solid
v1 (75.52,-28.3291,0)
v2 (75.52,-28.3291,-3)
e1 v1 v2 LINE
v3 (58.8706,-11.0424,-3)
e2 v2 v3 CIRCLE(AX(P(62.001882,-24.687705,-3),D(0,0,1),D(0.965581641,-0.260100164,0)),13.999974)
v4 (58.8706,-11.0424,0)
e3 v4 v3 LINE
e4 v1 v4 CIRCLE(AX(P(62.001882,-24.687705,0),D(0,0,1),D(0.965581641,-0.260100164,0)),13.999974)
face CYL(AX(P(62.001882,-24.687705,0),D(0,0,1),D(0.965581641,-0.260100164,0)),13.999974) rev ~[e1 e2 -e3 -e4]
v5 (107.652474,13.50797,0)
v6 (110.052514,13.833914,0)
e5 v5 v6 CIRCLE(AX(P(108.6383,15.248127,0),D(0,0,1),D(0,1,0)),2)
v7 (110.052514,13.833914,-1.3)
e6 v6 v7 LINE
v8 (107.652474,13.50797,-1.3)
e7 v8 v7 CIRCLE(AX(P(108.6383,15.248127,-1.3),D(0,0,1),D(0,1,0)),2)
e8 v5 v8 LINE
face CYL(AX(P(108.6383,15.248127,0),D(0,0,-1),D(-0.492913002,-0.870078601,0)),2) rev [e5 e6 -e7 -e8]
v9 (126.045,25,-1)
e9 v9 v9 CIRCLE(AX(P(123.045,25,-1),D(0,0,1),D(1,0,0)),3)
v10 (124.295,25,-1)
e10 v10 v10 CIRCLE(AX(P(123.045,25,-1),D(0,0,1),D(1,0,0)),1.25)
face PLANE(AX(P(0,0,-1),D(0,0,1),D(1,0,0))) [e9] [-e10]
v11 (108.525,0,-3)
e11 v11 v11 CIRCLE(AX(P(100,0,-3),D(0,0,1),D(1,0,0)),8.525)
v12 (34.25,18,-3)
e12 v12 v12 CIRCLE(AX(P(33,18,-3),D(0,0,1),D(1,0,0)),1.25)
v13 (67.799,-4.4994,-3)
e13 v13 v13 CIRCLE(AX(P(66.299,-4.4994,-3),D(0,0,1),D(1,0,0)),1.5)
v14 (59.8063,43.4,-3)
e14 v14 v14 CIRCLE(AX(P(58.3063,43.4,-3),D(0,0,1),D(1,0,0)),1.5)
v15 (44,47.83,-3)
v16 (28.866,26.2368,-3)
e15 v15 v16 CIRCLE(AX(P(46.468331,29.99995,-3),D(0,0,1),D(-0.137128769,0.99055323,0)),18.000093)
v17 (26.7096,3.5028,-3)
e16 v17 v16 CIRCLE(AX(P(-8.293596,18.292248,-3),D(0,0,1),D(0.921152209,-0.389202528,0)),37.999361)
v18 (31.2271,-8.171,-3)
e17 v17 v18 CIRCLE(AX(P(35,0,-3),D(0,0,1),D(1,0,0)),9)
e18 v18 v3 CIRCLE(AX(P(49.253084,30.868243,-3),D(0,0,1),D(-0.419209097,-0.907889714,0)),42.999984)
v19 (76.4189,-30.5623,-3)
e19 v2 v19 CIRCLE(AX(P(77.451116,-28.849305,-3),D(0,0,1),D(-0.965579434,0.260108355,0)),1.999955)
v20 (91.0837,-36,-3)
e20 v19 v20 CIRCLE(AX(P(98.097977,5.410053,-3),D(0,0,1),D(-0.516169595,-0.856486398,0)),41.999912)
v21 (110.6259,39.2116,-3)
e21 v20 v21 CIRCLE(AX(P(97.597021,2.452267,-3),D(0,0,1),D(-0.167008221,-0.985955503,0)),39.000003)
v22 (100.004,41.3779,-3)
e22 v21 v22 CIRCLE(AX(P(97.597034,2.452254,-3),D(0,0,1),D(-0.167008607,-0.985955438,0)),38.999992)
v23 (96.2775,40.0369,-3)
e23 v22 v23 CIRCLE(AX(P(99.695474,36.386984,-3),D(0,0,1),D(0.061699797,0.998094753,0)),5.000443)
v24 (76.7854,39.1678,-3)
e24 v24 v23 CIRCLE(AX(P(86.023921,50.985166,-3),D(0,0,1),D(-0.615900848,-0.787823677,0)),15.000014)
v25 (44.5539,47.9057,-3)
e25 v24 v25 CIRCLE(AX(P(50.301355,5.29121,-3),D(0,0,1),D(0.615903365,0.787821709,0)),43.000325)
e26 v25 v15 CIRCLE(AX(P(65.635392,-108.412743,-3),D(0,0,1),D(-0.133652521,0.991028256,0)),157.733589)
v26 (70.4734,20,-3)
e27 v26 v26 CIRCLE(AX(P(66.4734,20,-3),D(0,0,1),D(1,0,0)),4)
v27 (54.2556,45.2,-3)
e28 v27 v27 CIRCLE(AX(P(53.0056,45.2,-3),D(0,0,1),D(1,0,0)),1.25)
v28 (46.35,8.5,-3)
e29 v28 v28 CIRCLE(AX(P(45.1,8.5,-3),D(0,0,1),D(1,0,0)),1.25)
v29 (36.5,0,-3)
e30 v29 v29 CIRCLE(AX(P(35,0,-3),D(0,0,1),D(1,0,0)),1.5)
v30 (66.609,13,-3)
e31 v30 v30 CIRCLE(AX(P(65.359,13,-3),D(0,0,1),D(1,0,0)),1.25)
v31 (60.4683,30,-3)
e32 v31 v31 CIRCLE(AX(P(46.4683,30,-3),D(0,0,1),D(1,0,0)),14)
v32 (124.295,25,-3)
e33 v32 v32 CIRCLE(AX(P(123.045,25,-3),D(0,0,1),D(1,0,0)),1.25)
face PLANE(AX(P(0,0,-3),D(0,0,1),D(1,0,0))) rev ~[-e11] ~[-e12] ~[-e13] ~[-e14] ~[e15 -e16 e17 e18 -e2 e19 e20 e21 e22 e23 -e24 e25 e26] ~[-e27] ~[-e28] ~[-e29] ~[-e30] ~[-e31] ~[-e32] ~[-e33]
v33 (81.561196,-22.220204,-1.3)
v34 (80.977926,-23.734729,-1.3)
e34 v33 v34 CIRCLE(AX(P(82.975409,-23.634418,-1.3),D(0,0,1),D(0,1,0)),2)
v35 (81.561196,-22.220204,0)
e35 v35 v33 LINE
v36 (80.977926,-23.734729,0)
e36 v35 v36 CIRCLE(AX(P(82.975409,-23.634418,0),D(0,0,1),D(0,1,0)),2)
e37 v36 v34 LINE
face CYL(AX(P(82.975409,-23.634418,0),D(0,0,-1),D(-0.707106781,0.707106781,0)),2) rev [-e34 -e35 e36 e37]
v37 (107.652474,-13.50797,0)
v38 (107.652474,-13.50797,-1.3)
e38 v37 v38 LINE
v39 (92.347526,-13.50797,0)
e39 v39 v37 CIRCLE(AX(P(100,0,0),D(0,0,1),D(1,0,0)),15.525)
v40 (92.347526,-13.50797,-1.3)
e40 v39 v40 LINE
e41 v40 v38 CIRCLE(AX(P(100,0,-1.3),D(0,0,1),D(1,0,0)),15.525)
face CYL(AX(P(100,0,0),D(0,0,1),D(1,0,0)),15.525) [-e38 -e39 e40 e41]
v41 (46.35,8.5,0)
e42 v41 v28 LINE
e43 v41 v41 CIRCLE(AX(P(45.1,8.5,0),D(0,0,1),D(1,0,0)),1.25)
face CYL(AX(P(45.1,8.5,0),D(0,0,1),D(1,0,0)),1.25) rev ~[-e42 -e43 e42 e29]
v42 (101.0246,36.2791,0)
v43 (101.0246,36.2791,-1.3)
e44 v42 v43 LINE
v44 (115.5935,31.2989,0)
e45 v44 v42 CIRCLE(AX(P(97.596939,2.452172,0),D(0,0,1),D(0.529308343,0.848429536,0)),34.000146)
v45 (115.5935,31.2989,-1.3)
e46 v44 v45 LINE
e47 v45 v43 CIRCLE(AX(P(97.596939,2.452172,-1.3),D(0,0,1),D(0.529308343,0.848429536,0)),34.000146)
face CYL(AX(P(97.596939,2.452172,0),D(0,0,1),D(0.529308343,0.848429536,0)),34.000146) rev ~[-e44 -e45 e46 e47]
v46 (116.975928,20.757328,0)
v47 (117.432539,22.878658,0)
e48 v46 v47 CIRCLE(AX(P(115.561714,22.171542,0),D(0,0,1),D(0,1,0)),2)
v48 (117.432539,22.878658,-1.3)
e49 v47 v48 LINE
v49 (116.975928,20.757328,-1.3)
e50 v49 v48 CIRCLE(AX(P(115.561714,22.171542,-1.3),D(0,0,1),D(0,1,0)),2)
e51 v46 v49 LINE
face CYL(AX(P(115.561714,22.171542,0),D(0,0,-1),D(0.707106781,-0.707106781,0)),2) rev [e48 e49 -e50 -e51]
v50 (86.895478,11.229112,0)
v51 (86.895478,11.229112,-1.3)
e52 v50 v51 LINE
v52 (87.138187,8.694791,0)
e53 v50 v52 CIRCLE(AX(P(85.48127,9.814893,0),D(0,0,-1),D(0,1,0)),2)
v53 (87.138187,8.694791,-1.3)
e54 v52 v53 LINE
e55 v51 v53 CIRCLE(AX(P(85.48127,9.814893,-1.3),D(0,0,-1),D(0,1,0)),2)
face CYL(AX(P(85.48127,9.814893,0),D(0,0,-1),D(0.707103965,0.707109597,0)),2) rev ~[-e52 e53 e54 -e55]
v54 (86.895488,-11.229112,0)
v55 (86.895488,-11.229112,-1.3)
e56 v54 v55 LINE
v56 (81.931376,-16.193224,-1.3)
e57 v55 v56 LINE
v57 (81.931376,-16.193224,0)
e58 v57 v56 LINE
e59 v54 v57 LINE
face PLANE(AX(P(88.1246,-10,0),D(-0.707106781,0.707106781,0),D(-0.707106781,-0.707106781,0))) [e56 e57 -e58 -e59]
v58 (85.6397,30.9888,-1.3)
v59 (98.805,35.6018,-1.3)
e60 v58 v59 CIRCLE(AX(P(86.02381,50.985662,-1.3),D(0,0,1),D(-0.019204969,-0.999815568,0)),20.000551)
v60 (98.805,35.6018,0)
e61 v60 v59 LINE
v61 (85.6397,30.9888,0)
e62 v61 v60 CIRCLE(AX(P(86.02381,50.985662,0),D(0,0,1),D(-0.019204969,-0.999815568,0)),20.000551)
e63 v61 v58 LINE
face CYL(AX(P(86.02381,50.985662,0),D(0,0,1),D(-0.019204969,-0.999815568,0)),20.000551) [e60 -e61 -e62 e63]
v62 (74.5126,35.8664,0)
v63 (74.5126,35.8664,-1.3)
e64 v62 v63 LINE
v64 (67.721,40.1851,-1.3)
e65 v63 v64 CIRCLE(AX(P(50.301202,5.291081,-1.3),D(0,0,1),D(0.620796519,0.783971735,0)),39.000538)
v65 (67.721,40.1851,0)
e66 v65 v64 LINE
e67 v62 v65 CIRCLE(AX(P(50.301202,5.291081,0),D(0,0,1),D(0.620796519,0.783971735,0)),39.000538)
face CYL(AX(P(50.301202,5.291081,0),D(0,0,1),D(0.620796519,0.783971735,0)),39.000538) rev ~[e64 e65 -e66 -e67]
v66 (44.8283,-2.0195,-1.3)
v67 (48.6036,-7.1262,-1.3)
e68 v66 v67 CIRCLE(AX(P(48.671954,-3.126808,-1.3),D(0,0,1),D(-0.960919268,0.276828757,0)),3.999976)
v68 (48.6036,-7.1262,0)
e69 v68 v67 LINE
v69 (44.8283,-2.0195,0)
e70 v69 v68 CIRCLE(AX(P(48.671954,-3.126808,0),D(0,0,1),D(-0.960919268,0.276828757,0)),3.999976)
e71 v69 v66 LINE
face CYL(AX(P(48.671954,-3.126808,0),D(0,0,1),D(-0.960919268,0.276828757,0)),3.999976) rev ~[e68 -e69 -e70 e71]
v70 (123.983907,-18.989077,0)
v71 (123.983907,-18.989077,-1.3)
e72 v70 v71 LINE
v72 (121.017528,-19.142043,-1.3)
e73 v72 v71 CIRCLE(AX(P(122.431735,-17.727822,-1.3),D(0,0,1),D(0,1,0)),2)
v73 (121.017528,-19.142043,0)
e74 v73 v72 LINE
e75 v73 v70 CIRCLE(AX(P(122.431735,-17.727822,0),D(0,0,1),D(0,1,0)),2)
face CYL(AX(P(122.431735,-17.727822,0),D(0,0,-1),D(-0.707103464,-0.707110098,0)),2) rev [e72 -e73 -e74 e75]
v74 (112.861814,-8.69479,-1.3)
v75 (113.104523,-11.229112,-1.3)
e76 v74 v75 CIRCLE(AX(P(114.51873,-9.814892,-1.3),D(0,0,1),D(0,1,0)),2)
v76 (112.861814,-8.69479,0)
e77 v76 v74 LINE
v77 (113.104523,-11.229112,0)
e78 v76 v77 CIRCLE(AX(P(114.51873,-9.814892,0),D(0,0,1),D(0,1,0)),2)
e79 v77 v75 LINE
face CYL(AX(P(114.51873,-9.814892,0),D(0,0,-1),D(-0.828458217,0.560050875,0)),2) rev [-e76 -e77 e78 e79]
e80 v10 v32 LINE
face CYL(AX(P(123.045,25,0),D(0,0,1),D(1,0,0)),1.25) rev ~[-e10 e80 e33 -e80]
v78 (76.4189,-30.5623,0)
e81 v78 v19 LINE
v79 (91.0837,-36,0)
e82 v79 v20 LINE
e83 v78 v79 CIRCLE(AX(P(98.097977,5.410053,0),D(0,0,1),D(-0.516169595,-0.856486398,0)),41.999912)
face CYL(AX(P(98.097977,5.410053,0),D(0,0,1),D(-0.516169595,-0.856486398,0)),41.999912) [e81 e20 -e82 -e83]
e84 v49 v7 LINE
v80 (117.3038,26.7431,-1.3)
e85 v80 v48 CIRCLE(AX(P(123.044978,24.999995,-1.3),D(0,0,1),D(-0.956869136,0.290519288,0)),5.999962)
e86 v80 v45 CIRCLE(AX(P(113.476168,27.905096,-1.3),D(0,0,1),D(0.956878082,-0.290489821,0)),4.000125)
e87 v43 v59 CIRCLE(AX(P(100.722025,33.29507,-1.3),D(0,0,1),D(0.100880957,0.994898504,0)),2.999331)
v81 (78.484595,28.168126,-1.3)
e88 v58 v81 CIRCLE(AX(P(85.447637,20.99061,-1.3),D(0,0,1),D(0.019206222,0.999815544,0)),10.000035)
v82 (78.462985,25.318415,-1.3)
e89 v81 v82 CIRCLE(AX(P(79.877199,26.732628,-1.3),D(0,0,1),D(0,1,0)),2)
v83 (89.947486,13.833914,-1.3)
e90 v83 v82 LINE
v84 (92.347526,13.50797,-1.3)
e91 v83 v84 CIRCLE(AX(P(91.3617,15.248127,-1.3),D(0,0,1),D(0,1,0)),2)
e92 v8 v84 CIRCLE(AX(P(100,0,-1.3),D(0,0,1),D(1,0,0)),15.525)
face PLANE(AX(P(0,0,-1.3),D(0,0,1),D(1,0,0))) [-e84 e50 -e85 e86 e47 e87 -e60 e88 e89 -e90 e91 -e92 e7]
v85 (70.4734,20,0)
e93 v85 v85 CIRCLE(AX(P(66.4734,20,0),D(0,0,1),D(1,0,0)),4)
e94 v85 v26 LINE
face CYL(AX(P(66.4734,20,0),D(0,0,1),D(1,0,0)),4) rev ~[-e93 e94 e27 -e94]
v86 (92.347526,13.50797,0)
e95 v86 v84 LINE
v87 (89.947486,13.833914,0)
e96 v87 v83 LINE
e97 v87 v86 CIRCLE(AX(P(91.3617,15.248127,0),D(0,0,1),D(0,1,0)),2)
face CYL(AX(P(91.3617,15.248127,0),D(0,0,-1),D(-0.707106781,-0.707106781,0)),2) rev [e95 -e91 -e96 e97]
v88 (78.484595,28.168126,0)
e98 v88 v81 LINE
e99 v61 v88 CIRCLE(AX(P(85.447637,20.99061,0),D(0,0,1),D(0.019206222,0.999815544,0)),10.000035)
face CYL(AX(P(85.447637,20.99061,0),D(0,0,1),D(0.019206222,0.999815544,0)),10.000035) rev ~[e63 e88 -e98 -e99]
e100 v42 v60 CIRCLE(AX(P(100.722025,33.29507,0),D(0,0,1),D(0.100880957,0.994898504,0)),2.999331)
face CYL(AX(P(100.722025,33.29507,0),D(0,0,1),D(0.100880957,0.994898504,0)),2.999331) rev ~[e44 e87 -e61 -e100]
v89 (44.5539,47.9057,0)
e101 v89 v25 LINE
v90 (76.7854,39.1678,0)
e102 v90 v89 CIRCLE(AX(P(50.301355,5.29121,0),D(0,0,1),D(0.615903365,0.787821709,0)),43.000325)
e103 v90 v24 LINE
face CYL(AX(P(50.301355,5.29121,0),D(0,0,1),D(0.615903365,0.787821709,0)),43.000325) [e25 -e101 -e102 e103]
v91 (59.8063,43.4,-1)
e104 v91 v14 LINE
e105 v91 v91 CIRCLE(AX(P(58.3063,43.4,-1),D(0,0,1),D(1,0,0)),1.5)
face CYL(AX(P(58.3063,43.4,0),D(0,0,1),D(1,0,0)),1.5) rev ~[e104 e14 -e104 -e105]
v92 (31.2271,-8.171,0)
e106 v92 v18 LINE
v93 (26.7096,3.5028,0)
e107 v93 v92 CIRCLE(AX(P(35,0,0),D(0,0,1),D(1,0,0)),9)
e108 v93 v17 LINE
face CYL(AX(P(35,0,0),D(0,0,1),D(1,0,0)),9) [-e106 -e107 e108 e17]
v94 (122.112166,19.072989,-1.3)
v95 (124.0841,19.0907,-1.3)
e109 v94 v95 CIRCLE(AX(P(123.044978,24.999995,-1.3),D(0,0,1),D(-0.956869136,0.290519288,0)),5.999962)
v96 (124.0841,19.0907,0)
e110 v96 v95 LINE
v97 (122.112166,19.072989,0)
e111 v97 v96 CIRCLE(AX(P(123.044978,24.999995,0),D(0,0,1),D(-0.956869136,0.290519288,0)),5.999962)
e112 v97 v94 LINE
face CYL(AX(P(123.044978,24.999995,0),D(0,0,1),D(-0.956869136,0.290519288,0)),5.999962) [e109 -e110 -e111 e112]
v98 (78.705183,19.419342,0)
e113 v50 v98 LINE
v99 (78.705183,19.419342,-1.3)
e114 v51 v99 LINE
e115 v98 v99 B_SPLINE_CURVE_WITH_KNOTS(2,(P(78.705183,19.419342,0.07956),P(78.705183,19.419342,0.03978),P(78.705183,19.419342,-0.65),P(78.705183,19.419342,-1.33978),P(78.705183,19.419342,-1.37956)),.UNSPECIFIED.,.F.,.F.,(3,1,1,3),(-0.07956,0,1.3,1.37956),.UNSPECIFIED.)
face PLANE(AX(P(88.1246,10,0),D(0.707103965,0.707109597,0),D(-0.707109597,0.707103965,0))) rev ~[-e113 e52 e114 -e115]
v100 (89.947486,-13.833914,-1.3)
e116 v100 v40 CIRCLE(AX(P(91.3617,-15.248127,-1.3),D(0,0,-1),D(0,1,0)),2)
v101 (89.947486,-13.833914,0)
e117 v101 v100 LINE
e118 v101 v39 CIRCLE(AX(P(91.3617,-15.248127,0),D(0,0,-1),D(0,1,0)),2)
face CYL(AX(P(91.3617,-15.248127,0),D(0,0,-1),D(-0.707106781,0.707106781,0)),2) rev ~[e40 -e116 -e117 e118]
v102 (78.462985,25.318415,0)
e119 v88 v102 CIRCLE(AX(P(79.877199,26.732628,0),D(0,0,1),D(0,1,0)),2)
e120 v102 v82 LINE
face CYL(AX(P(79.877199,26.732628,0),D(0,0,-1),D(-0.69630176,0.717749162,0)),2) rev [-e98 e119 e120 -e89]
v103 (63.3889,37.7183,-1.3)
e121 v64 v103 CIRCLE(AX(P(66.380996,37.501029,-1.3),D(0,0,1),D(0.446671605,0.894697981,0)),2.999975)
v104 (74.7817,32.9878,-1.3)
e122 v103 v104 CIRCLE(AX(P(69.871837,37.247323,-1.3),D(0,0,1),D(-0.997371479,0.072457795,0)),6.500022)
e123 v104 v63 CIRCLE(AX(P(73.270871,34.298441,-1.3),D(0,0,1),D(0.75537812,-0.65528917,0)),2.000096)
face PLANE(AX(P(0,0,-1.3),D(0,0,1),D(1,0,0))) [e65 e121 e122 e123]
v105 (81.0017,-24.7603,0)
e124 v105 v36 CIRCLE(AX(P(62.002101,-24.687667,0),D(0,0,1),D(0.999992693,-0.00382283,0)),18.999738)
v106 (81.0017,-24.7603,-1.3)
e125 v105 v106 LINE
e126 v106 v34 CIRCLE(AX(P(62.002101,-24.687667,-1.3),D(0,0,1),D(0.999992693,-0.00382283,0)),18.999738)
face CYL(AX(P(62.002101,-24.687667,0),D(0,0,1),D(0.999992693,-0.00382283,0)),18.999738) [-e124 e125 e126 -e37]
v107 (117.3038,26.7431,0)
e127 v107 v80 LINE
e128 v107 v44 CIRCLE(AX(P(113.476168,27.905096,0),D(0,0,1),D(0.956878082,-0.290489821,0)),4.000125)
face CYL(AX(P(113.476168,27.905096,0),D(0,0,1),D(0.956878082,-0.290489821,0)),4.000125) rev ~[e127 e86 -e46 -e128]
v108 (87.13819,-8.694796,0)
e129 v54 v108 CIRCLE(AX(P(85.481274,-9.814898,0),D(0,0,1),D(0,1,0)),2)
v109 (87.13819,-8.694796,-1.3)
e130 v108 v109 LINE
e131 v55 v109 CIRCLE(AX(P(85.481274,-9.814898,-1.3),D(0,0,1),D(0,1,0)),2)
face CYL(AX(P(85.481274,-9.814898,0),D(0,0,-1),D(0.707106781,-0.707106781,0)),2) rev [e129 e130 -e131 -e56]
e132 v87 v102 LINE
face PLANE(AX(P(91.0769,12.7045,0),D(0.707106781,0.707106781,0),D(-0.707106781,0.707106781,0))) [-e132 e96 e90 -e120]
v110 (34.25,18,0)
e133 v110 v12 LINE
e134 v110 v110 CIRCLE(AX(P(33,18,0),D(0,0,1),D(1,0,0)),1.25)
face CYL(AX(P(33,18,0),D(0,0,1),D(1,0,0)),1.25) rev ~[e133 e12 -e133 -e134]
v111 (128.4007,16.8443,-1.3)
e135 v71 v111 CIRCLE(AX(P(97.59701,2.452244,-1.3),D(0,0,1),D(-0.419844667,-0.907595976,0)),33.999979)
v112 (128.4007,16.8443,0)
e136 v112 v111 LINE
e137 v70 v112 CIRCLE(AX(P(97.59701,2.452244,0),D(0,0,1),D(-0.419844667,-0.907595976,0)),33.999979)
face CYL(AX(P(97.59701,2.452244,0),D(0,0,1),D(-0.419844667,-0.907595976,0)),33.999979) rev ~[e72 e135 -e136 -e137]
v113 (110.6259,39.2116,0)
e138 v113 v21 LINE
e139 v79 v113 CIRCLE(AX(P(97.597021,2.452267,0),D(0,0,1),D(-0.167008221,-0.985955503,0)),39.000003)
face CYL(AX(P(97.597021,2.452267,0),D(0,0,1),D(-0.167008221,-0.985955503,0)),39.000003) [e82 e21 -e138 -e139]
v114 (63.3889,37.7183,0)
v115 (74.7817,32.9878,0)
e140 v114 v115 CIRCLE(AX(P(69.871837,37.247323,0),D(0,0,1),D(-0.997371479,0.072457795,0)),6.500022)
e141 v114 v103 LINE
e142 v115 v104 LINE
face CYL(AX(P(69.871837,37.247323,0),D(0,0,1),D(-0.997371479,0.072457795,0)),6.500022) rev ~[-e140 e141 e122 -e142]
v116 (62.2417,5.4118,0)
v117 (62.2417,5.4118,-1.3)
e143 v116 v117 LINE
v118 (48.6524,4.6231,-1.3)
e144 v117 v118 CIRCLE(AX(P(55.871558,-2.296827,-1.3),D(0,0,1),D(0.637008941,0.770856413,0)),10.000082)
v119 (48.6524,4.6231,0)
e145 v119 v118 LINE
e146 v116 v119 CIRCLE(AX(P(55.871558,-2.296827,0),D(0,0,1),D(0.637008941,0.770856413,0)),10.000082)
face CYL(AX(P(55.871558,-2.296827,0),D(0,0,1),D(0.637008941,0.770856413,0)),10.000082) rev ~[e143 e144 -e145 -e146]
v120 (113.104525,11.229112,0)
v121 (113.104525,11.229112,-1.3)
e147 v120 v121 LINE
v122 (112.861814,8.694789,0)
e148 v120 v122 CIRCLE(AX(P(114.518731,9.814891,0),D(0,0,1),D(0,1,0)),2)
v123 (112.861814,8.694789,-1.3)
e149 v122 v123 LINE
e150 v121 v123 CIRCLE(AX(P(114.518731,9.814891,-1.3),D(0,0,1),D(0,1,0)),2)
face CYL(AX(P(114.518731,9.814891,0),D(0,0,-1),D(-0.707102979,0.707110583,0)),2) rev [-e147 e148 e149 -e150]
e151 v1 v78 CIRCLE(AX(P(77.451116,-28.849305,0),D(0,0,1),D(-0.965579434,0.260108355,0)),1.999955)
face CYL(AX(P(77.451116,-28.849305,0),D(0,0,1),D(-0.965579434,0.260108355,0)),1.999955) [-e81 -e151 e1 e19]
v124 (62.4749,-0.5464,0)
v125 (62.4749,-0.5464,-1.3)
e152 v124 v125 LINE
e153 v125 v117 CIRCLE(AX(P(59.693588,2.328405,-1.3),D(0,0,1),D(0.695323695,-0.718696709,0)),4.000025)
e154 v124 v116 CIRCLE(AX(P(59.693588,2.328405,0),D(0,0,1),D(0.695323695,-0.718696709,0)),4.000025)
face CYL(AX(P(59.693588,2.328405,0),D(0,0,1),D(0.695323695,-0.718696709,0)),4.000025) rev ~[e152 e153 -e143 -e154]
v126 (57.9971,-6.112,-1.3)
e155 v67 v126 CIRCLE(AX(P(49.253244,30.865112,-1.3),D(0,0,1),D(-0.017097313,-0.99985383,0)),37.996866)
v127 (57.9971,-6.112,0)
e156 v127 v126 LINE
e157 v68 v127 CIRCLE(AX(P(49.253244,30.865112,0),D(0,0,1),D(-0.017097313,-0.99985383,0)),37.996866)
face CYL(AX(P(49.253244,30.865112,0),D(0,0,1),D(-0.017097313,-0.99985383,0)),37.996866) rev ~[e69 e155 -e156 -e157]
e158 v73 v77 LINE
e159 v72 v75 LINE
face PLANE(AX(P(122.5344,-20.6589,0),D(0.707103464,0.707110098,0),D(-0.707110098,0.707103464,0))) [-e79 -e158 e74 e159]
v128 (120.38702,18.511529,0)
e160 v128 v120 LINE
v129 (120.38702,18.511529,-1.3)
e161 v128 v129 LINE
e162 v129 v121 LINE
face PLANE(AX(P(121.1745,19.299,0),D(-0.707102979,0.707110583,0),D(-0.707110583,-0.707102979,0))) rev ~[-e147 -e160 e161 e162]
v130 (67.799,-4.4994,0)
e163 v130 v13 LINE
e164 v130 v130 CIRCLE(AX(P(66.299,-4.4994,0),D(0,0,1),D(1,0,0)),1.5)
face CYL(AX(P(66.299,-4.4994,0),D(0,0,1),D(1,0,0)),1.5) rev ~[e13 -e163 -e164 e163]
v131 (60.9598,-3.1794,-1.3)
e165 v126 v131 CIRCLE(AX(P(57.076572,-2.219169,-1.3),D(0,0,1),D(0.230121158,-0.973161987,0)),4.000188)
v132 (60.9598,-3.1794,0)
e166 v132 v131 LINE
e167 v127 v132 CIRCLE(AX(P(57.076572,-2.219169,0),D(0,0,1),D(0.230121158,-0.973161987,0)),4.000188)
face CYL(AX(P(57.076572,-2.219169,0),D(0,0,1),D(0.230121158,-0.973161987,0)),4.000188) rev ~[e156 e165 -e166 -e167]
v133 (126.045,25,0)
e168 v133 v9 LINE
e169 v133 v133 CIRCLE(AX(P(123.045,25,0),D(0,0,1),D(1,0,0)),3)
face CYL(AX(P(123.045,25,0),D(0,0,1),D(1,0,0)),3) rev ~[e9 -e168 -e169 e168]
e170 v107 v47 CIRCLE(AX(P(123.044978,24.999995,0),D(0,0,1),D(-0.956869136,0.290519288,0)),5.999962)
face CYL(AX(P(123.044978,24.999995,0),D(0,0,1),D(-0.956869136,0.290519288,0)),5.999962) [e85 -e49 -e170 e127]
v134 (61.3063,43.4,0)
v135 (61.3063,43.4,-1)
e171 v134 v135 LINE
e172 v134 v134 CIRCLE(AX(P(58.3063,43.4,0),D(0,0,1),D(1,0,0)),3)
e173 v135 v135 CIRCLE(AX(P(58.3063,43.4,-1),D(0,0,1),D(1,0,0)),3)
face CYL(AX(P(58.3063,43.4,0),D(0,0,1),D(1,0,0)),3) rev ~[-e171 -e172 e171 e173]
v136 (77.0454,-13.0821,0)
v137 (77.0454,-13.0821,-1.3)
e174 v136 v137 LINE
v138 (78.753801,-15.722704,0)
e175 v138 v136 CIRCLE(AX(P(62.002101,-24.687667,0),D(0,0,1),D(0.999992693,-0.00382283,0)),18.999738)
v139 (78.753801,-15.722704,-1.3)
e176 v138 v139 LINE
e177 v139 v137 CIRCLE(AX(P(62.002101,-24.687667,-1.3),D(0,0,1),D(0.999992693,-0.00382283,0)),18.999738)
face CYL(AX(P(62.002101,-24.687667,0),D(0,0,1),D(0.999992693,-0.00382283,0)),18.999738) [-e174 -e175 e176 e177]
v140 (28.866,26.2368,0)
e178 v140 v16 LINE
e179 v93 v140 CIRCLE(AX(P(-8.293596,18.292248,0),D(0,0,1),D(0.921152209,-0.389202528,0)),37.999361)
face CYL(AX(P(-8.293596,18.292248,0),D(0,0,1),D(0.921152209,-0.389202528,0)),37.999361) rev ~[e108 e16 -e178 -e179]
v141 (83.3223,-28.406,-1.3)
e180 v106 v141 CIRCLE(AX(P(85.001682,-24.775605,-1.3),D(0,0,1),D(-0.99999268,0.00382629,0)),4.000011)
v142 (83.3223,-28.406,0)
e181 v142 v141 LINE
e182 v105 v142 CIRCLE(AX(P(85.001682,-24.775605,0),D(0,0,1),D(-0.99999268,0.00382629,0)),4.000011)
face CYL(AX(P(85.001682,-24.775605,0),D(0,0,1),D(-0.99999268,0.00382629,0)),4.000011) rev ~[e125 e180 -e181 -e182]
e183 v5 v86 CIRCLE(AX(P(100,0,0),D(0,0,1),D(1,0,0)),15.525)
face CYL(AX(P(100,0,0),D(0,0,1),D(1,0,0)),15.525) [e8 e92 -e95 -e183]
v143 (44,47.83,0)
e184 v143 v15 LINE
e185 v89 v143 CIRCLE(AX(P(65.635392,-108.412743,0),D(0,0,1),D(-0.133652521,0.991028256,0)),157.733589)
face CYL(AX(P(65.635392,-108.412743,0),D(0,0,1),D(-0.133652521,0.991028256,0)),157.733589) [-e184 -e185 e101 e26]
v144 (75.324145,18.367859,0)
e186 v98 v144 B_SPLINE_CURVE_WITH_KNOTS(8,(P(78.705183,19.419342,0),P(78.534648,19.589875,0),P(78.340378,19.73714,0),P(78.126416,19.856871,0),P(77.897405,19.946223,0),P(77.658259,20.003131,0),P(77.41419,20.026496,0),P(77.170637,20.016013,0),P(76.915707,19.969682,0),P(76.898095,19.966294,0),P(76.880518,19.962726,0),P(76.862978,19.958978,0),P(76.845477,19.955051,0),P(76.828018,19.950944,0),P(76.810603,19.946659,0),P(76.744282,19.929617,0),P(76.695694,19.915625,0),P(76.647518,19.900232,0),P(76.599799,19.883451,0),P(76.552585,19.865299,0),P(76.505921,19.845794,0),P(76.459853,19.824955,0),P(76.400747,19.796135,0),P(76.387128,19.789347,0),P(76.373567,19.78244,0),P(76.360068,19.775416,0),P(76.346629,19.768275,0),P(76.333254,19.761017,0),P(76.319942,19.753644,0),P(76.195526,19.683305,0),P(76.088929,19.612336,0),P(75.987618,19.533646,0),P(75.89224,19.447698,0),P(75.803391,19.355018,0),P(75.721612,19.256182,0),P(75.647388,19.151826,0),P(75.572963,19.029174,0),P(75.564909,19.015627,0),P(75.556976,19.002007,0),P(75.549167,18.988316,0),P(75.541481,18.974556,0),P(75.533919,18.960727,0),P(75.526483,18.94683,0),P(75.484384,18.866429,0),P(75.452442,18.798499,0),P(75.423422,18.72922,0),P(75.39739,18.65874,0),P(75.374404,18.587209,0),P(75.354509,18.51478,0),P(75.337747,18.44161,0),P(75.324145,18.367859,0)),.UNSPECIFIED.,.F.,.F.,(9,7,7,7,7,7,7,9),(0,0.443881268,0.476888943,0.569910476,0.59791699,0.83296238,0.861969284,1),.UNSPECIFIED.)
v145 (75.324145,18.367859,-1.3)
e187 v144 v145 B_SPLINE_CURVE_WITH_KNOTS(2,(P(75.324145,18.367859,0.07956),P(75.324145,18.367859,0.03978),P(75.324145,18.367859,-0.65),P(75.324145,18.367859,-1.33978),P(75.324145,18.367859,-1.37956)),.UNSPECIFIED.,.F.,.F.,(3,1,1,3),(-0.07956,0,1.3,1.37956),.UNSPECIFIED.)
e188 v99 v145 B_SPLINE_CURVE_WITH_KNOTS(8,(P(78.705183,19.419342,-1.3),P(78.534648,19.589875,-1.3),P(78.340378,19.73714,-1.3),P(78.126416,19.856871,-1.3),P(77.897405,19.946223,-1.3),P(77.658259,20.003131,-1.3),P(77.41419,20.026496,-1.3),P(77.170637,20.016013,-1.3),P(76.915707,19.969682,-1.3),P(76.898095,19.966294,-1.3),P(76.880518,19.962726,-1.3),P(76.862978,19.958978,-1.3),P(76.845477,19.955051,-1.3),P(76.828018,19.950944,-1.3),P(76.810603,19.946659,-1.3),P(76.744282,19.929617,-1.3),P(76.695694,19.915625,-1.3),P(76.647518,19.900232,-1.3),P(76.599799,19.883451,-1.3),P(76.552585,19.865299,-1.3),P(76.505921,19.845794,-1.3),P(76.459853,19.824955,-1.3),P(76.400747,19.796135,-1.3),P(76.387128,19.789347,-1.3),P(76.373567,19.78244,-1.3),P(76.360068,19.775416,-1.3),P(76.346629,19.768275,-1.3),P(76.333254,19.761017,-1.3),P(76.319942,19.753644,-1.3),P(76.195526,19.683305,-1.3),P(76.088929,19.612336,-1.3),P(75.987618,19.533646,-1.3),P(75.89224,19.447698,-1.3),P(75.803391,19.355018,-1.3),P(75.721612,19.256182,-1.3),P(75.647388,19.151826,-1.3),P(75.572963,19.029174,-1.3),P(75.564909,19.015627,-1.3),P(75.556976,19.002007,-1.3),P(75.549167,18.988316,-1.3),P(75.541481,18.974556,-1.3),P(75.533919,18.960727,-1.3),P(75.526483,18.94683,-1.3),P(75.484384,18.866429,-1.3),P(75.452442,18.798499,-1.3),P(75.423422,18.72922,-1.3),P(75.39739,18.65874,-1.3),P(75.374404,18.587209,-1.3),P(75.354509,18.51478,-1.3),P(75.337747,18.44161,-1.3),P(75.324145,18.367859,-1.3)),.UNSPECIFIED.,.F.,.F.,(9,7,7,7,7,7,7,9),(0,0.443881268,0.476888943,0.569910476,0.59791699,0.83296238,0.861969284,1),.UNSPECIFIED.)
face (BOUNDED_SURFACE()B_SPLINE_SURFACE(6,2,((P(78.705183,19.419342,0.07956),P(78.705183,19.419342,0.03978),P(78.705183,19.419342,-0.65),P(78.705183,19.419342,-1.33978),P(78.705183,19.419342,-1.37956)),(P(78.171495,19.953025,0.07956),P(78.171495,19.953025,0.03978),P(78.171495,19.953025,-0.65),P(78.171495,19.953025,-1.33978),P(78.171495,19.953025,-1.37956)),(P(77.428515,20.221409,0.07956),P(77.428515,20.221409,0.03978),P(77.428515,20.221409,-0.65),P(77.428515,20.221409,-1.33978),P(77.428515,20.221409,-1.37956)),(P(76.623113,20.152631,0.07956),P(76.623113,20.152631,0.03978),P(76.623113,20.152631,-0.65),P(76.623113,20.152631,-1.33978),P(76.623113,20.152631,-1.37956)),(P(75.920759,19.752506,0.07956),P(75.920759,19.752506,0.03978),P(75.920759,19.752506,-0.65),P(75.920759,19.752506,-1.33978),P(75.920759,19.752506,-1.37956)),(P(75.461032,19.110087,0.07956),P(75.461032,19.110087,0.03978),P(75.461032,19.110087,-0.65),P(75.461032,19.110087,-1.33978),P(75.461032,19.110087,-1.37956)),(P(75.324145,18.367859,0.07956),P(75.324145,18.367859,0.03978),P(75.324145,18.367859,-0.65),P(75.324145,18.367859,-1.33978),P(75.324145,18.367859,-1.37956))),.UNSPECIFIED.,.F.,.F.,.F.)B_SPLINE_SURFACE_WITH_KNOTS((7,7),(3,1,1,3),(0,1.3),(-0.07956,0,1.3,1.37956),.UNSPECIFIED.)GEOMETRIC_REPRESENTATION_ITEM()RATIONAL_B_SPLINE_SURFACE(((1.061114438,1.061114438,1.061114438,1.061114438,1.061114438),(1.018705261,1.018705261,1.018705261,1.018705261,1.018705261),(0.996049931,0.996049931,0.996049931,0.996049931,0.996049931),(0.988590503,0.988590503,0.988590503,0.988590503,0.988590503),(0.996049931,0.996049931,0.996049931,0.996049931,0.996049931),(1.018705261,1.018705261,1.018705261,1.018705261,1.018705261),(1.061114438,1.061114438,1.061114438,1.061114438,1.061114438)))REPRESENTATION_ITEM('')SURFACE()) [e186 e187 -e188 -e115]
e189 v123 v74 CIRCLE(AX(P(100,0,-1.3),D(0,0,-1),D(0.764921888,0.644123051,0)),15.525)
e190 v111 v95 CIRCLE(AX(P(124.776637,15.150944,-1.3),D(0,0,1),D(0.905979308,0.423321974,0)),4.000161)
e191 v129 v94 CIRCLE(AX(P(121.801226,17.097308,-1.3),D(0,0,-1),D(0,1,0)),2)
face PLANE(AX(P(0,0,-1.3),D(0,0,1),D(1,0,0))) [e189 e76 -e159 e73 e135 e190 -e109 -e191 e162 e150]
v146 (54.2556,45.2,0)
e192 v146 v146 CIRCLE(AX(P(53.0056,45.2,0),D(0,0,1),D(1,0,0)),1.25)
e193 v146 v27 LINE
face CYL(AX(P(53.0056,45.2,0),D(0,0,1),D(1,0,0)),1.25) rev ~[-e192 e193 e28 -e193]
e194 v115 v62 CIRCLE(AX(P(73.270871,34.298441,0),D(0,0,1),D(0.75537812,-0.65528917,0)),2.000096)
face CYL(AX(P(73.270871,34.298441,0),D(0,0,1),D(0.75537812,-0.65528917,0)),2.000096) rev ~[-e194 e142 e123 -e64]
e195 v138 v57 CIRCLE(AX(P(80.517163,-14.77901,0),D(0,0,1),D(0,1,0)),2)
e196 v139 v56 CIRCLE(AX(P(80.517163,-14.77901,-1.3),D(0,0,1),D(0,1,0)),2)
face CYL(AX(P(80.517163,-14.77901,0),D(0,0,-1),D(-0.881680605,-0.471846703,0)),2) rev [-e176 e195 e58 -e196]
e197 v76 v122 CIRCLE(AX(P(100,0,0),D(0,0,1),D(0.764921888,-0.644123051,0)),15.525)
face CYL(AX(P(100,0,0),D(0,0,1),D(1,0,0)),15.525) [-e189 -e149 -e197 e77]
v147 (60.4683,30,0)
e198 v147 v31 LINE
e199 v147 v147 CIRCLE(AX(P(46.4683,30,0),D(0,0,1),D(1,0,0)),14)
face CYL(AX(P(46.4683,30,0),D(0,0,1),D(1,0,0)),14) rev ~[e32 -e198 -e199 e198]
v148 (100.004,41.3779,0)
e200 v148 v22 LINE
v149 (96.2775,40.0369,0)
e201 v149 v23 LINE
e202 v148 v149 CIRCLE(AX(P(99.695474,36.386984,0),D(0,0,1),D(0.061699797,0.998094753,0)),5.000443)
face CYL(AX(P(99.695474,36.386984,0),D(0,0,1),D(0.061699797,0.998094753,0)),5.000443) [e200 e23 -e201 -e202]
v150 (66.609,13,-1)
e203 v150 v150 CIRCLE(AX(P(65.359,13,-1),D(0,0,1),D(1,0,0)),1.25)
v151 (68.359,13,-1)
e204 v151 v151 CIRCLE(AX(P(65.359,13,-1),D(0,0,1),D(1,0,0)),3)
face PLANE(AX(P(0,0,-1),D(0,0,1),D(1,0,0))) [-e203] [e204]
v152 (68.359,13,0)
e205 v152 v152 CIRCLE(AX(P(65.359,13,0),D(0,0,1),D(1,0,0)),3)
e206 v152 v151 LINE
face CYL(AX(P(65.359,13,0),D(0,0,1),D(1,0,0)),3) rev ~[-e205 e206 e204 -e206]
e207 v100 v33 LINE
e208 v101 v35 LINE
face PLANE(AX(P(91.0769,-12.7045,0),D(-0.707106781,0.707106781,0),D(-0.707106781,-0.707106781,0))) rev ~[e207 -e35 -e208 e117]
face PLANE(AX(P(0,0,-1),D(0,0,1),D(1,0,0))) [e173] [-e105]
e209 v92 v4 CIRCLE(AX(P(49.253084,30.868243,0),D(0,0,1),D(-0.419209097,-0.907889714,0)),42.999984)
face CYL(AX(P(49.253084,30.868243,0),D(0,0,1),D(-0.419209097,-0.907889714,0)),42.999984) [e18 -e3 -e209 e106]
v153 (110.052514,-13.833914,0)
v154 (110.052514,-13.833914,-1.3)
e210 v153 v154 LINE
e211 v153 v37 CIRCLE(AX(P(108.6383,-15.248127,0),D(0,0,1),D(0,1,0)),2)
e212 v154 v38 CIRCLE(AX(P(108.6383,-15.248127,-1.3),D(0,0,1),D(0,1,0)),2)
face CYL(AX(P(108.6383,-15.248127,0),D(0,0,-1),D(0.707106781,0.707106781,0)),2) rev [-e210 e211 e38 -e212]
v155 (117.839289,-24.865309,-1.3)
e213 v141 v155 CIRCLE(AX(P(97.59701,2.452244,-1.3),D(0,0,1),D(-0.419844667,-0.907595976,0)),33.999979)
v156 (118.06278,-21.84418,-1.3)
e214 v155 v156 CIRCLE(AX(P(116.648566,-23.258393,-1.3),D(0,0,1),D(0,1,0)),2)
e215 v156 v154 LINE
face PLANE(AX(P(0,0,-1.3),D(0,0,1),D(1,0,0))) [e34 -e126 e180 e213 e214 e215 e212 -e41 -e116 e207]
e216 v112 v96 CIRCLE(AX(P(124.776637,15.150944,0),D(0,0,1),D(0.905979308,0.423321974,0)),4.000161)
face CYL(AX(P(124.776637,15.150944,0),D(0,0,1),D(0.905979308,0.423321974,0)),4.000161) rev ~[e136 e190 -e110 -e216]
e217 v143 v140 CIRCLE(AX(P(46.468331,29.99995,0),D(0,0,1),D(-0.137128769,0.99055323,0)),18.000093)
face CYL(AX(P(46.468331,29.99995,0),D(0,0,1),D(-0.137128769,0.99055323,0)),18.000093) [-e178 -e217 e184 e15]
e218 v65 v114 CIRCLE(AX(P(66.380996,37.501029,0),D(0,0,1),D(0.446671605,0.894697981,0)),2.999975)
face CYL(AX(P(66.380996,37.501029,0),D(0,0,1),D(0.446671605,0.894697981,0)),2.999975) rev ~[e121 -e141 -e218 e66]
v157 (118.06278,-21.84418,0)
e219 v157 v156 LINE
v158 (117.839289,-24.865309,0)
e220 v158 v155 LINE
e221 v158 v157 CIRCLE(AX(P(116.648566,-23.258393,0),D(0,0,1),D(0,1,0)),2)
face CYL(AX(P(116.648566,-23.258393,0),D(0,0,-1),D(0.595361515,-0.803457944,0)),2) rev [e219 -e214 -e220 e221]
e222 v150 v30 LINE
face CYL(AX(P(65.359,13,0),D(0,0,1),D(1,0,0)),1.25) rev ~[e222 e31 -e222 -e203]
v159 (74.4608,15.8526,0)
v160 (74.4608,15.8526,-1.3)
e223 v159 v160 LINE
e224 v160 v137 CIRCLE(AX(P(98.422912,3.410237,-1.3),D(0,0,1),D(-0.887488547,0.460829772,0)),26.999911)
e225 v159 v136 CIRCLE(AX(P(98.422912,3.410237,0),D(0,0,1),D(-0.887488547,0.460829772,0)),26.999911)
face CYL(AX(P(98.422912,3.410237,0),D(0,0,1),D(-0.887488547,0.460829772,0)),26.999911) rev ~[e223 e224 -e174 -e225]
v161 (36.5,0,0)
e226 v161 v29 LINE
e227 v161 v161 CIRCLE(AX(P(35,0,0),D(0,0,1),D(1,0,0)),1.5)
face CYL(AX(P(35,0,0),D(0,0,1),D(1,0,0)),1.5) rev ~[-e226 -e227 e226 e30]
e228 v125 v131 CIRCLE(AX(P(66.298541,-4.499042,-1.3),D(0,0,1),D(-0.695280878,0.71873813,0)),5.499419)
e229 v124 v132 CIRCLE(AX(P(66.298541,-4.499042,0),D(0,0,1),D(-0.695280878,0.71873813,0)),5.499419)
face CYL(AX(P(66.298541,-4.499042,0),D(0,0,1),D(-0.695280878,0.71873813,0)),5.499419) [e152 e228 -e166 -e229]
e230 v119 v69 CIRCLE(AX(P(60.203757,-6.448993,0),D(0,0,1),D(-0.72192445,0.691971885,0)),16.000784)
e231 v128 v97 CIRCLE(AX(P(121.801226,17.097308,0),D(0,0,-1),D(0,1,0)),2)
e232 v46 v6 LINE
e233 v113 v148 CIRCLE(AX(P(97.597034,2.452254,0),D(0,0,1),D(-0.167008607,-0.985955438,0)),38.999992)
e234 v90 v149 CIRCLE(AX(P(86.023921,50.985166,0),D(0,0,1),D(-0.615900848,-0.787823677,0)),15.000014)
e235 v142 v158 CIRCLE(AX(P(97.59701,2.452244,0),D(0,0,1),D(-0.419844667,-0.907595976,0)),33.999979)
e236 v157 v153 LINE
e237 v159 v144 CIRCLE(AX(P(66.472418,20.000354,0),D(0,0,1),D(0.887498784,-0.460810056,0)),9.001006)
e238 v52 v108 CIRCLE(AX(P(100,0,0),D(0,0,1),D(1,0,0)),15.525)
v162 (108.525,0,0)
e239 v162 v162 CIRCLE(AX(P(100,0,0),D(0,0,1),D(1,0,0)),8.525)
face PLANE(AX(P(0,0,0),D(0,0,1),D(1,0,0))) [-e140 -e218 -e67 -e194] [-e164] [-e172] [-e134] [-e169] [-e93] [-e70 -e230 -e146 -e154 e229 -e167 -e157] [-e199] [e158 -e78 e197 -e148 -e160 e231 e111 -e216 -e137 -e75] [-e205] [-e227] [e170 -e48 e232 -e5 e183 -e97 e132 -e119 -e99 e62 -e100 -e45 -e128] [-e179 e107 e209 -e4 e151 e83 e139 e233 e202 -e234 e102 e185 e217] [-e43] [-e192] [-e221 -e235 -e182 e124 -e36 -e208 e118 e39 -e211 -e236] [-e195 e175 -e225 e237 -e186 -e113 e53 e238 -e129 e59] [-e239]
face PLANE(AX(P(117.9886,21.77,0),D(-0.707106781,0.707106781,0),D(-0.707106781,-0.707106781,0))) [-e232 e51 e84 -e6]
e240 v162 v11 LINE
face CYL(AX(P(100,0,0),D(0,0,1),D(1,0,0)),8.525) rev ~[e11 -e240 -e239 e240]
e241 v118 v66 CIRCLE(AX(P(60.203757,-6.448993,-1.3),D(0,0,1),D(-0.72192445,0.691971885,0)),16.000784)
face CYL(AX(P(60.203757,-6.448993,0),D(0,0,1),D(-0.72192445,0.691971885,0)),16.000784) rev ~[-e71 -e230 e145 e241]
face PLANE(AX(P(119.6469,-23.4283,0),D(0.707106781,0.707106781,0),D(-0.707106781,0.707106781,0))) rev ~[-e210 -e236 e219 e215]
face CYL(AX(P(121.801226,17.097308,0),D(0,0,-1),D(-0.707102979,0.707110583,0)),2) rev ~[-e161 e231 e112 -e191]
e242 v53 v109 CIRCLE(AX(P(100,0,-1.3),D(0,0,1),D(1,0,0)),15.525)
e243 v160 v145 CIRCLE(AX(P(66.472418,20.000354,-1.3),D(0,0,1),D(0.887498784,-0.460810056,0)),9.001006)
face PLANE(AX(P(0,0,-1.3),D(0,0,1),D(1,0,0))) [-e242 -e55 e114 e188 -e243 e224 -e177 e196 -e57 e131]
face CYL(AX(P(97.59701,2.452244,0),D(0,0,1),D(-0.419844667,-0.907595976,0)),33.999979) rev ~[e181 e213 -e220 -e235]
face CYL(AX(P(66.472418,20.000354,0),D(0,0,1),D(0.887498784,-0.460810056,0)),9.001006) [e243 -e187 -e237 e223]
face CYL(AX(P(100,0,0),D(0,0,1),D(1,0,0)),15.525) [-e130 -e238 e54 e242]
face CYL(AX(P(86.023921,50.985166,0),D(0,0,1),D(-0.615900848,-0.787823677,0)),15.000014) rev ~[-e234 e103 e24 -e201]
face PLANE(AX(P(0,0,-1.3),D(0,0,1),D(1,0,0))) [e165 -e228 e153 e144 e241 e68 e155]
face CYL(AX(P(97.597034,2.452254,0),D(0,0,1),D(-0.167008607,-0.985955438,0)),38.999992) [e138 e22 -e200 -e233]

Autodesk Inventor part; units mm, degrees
ref_plane "YZ Plane" through (0, 0, 0) normal (1, 0, 0) x (0, 1, 0)
ref_plane "XZ Plane" through (0, 0, 0) normal (0, 1, 0) x (-1, 0, 0)
ref_plane "XY Plane" through (0, 0, 0) normal (0, 0, 1) x (1, 0, 0)
sketch "Sketch2" plane through (0, 0, 0) normal (0, 0, 1) x (1, 0, 0)
  circle A0 centre (46.4683, 30) radius 14
  circle A1 centre (66.4734, 20) radius 20.5 construction
  circle A2 centre (100, 0) radius 30 construction
  circle A3 centre (123.045, 25) radius 1.25
  circle A4 centre (100, 0) radius 3 construction
  circle A5 centre (35, 0) radius 6.025 construction
  circle A6 centre (35, 0) radius 9
  arc A7 (26.7096, 3.5028) -> (28.866, 26.2368) centre (-8.2942, 18.2924) ccw
  arc A8 (44, 47.83) -> (28.866, 26.2368) centre (46.4683, 30) ccw
  arc A9 (91.0837, -36) -> (110.6259, 39.2116) centre (97.597, 2.4523) ccw
  arc A10 (28.683, 27.2278) -> (91.0837, -36) centre (103.7763, 38.9326) ccw construction
  circle A11 centre (58.3063, 43.4) radius 1.5
  arc A12 (44.5539, 47.9057) -> (44, 47.83) centre (65.9403, -110.6586) ccw
  arc A13 (76.7854, 39.1678) -> (44.5539, 47.9057) centre (50.3015, 5.2915) ccw
  arc A14 (76.7854, 39.1678) -> (96.2775, 40.0369) centre (86.0239, 50.9851) ccw
  arc A15 (100.004, 41.3779) -> (96.2775, 40.0369) centre (99.6954, 36.3875) ccw
  arc A16 (91.0837, -36) -> (100.004, 41.3779) centre (97.597, 2.4523) ccw
  arc A17 (75.52, -28.3291) -> (58.8706, -11.0424) centre (62.0019, -24.6877) ccw
  arc A18 (31.2271, -8.171) -> (58.8706, -11.0424) centre (49.2531, 30.8683) ccw
  arc A19 (75.52, -28.3291) -> (76.4189, -30.5623) centre (77.4512, -28.8493) ccw
  arc A20 (76.4189, -30.5623) -> (91.0837, -36) centre (98.098, 5.4101) ccw
  circle A21 centre (58.3063, 43.4) radius 1.5
  circle A22 centre (123.045, 25) radius 1.25
  circle A23 centre (100, 0) radius 3 construction
  circle A24 centre (100, 0) radius 8.525
  circle A25 centre (65.359, 13) radius 1.25
  arc A26 (131.5793, 3.5511) -> (107.9544, 34.8363) centre (97.597, 2.4523) ccw construction
  circle A27 centre (66.4734, 20) radius 4
  circle A28 centre (66.299, -4.4994) radius 4 construction
  circle A29 centre (66.299, -4.4994) radius 1.5
  circle A30 centre (66.299, -4.4994) radius 3 construction
  circle A31 centre (53.0056, 45.2) radius 1.25
  arc A32 (59.6568, 44.1821) -> (46.2779, 45.0886) centre (50.3015, 5.2915) ccw construction
  circle A33 centre (45.1, 8.5) radius 1.25
  circle A34 centre (33, 18) radius 1.25
  arc A35 (31.0568, 25.3067) -> (30.8433, 25.9979) centre (-68.6067, -5.1096) ccw construction
  line L0 (51.7556, 0) -> (32.0278, 0) construction
  circle A36 centre (35, 0) radius 1.5
  point P0 (0, 0)
  point P1 (0, 0)
  point P2 (45.1112, 47.9488)
  point P3 (57.174, -111.5959)
  point P4 (86.6921, 36)
  point P5 (61.5525, 46.7935)
  point P6 (110.6259, 39.2116)
  dimension "d0" = 12.05
  dimension "d1" = 18
  dimension "d4" = 4
  dimension "d6" = 15
  dimension "d7" = 14
  dimension "d8" = 2
  dimension "d9" = 43
  dimension "d10" = 5
  dimension "d11" = 43
  dimension "d12" = 36
  dimension "d13" = 44
  dimension "d14" = 42
  dimension "d15" = 74
  dimension "d16" = 118
  dimension "d18" = 110.6259
  dimension "d21" = 17.05
  dimension "d22" = 2.5
  dimension "d23" = 37
  dimension "d24" = 13
  dimension "d26" = 3
  dimension "d27" = 2.5
  dimension "d28" = 25
  dimension "d29" = 5
  dimension "d35" = 8
  dimension "d36" = 8
  dimension "d37" = 3
  dimension "d38" = 6
  dimension "d39" = 2.5
  dimension "d40" = 3
  dimension "d42" = 45.2
  dimension "d43" = 2.5
  dimension "d44" = 8.5
  dimension "d45" = 45.1
  dimension "d46" = 2.5
  dimension "d50" = 65.359
  dimension "d51" = 35
  dimension "d52" = 38
  dimension "d53" = 18
  dimension "d54" = 33
  dimension "d116" = 3
extrude "Extrusion1" add sketch "Sketch2" against normal blind 3
sketch "Sketch3" plane through (0, 0, 0) normal (0, 0, 1) x (1, 0, 0)
  circle A0 centre (58.3063, 43.4) radius 3
  circle A1 centre (65.359, 13) radius 3
  circle A2 centre (123.045, 25) radius 1.25 projected
  circle A3 centre (123.045, 25) radius 3
  point P0 (0, 0)
  dimension "d30" = 6
  dimension "d31" = 6
  dimension "d32" = 6
extrude "Extrusion2" cut sketch "Sketch3" against normal blind 1 contours A0 | A1 | A2 | A3
sketch "Sketch4" plane through (0, 0, 0) normal (0, 0, 1) x (1, 0, 0)
  arc A0 (85.6397, 30.9888) -> (98.805, 35.6018) centre (86.0239, 50.9851) ccw
  arc A1 (76.7854, 39.1678) -> (96.2775, 40.0369) centre (86.0239, 50.9851) ccw projected
  circle A2 centre (66.4734, 20) radius 4 projected
  arc A3 (91.0837, -36) -> (100.004, 41.3779) centre (97.597, 2.4523) ccw projected
  circle A4 centre (100, 0) radius 8.525 projected
  arc A5 (74.4608, 15.8526) -> (75.4612, 20.4693) centre (66.4734, 20) ccw
  circle A6 centre (46.4683, 30) radius 14 projected
  arc A7 (101.0246, 36.2791) -> (98.805, 35.6018) centre (100.7221, 33.2943) ccw
  arc A8 (115.5935, 31.2989) -> (101.0246, 36.2791) centre (97.597, 2.4523) ccw
  arc A9 (117.3038, 26.7431) -> (124.0841, 19.0907) centre (123.045, 25) ccw
  circle A10 centre (123.045, 25) radius 3 projected
  arc A11 (128.4007, 16.8443) -> (124.0841, 19.0907) centre (124.7768, 15.1511) ccw
  arc A12 (83.3223, -28.406) -> (128.4007, 16.8443) centre (97.597, 2.4523) ccw
  arc A13 (81.0017, -24.7603) -> (83.3223, -28.406) centre (85.0017, -24.7756) ccw
  arc A14 (81.0017, -24.7603) -> (77.0454, -13.0821) centre (62.0019, -24.6877) ccw
  arc A15 (75.52, -28.3291) -> (58.8706, -11.0424) centre (62.0019, -24.6877) ccw projected
  circle A16 centre (66.299, -4.4994) radius 1.5 projected
  circle A17 centre (100, 0) radius 15.525
  arc A18 (48.6036, -7.1262) -> (57.9971, -6.112) centre (49.2531, 30.8683) ccw
  arc A19 (44.8283, -2.0195) -> (48.6036, -7.1262) centre (48.672, -3.1268) ccw
  arc A20 (31.2271, -8.171) -> (58.8706, -11.0424) centre (49.2531, 30.8683) ccw projected
  arc A21 (74.4608, 15.8526) -> (77.0454, -13.0821) centre (98.4231, 3.4102) ccw
  arc A22 (48.6524, 4.6231) -> (44.8283, -2.0195) centre (60.2031, -6.4485) ccw
  arc A23 (62.2417, 5.4118) -> (48.6524, 4.6231) centre (55.8716, -2.2967) ccw
  arc A24 (62.4749, -0.5464) -> (62.2417, 5.4118) centre (59.6936, 2.3284) ccw
  arc A25 (62.4749, -0.5464) -> (60.9598, -3.1794) centre (66.299, -4.4994) ccw
  arc A26 (54.145, 12.6119) -> (43.432, 4.4478) centre (60.2031, -6.4485) ccw construction
  circle A27 centre (45.1, 8.5) radius 1.25 projected
  arc A28 (67.6549, 6.9852) -> (54.9349, 12.674) centre (55.8716, -2.2967) ccw construction
  circle A29 centre (65.359, 13) radius 3 projected
  arc A30 (57.9971, -6.112) -> (60.9598, -3.1794) centre (57.0767, -2.2194) ccw
  arc A31 (43.9376, 3.3219) -> (41.8928, -7.3744) centre (48.672, -3.1268) ccw construction
  arc A32 (85.6397, 30.9888) -> (75.4612, 20.4693) centre (85.4476, 20.9907) ccw
  arc A33 (117.3038, 26.7431) -> (115.5935, 31.2989) centre (113.4763, 27.9051) ccw
  line L0 (122.5344, -20.6589) -> (111.8754, -10)
  line L1 (119.6469, -23.4283) -> (108.9231, -12.7045)
  line L2 (117.9886, 21.77) -> (108.9231, 12.7045)
  line L3 (121.1745, 19.299) -> (111.8754, 10)
  line L4 (0, 0) -> (194.5551, 0) construction
  line L5 (91.0769, 12.7045) -> (77.174, 26.6074)
  line L6 (88.1246, 10) -> (75.5705, 22.554)
  line L7 (88.1246, -10) -> (79.8771, -18.2475)
  line L8 (91.0769, -12.7045) -> (80.9144, -22.867)
  arc A34 (67.721, 40.1851) -> (63.3889, 37.7183) centre (66.381, 37.5009) ccw
  arc A35 (74.5126, 35.8664) -> (67.721, 40.1851) centre (50.3015, 5.2915) ccw
  arc A36 (74.7817, 32.9878) -> (74.5126, 35.8664) centre (73.271, 34.2984) ccw
  arc A37 (63.3889, 37.7183) -> (74.7817, 32.9878) centre (69.8718, 37.2473) ccw
  arc A38 (76.7854, 39.1678) -> (44.5539, 47.9057) centre (50.3015, 5.2915) ccw projected
  arc A39 (59.4664, 38.6529) -> (65.1004, 27.8941) centre (69.8718, 37.2473) ccw construction
  arc A40 (66.3457, 44.5008) -> (59.4046, 38.0749) centre (66.381, 37.5009) ccw construction
  circle A41 centre (58.3063, 43.4) radius 3 projected
  point P0 (85.9957, -17.7858)
  dimension "d56" = 5
  dimension "d64" = 5
  dimension "d65" = 3
  dimension "d66" = 3
  dimension "d67" = 5
  dimension "d68" = 4
  dimension "d69" = 5
  dimension "d72" = 4
  dimension "d73" = 7
  dimension "d75" = 5
  dimension "d76" = 4
  dimension "d79" = 5
  dimension "d82" = 27
  dimension "d83" = 4
  dimension "d84" = 5
  dimension "d85" = 4
  dimension "d86" = 4
  dimension "d87" = 4
  dimension "d88" = 16
  dimension "d89" = 10
  dimension "d90" = 4
  dimension "d91" = 10
  dimension "d92" = 4
  dimension "d94" = 4
  dimension "d95" = 4
  dimension "d96" = 10
  dimension "d97" = 45
  dimension "d99" = 10
  dimension "d100" = 45
  dimension "d101" = 135
  dimension "d102" = 10
  dimension "d103" = 4
  dimension "d104" = 45
  dimension "d105" = 4
  dimension "d106" = 10
  dimension "d109" = 4
  dimension "d110" = 4
  dimension "d111" = 4
  dimension "d112" = 2
  dimension "d113" = 6.5
  dimension "d114" = 3
extrude "Extrusion3" cut sketch "Sketch4" against normal blind 1.3 contours A0 A7 A8 A33 A9 L2 A17 L5 A32 | L6 A17 L7 A14 A21 A5 A32 | L3 A9 A11 A12 L0 A17 | A17 L1 A12 A13 A14 L8 | A19 A22 A23 A24 A25 A30 A18 | A35 A36 A37 A34
fillet "Fillet1" radius 2 16 edges at (111.8754, 10, -0.65) (111.8754, -10, -0.65) (122.5344, -20.6589, -0.65) (108.9231, -12.7045, -0.65) (119.6469, -23.4283, -0.65) (91.0769, -12.7045, -0.65) (88.1246, -10, -0.65) (88.1246, 10, -0.65) (75.5705, 22.554, -0.65) (79.8771, -18.2475, -0.65) (91.0769, 12.7045, -0.65) (77.174, 26.6074, -0.65) (108.9231, 12.7045, -0.65) (117.9886, 21.77, -0.65) (80.9144, -22.867, -0.65) (121.1745, 19.299, -0.65)
sketch "export" plane through (0, 0, 0) normal (0, 0, 1) x (1, 0, 0)
  line L0 (113.1045, 11.2291) -> (120.3869, 18.5115) projected
  arc A0 (122.1121, 19.073) -> (120.3869, 18.5115) centre (121.8011, 17.0973) ccw projected
  arc A1 (122.1121, 19.073) -> (124.0841, 19.0907) centre (123.045, 25) ccw projected
  arc A2 (128.4007, 16.8443) -> (124.0841, 19.0907) centre (124.7768, 15.1511) ccw projected
  arc A3 (123.9839, -18.9891) -> (128.4007, 16.8443) centre (97.597, 2.4523) ccw projected
  arc A4 (121.0175, -19.1421) -> (123.9839, -18.9891) centre (122.4317, -17.7279) ccw projected
  line L1 (121.0175, -19.1421) -> (113.1045, -11.2291) projected
  arc A5 (112.8618, -8.6948) -> (113.1045, -11.2291) centre (114.5187, -9.8149) ccw projected
  arc A6 (112.8618, -8.6948) -> (112.8618, 8.6948) centre (100, 0) ccw projected
  arc A7 (113.1045, 11.2291) -> (112.8618, 8.6948) centre (114.5187, 9.8149) ccw projected
  arc A8 (48.6524, 4.6231) -> (44.8283, -2.0195) centre (60.2031, -6.4485) ccw projected
  arc A9 (62.2417, 5.4118) -> (48.6524, 4.6231) centre (55.8716, -2.2967) ccw projected
  arc A10 (62.4749, -0.5464) -> (62.2417, 5.4118) centre (59.6936, 2.3284) ccw projected
  arc A11 (62.4749, -0.5464) -> (60.9598, -3.1794) centre (66.299, -4.4994) ccw projected
  arc A12 (57.9971, -6.112) -> (60.9598, -3.1794) centre (57.0767, -2.2194) ccw projected
  arc A13 (48.6036, -7.1262) -> (57.9971, -6.112) centre (49.2531, 30.8683) ccw projected
  arc A14 (44.8283, -2.0195) -> (48.6036, -7.1262) centre (48.672, -3.1268) ccw projected
  line L2 (89.9475, 13.8339) -> (78.463, 25.3185) projected
  arc A15 (78.4846, 28.1682) -> (78.463, 25.3185) centre (79.8772, 26.7327) ccw projected
  arc A16 (85.6397, 30.9888) -> (78.4846, 28.1682) centre (85.4476, 20.9907) ccw projected
  arc A17 (85.6397, 30.9888) -> (98.805, 35.6018) centre (86.0239, 50.9851) ccw projected
  arc A18 (101.0246, 36.2791) -> (98.805, 35.6018) centre (100.7221, 33.2943) ccw projected
  arc A19 (115.5935, 31.2989) -> (101.0246, 36.2791) centre (97.597, 2.4523) ccw projected
  arc A20 (117.3038, 26.7431) -> (115.5935, 31.2989) centre (113.4763, 27.9051) ccw projected
  arc A21 (117.3038, 26.7431) -> (117.4325, 22.8787) centre (123.045, 25) ccw projected
  arc A22 (116.9759, 20.7573) -> (117.4325, 22.8787) centre (115.5617, 22.1715) ccw projected
  line L3 (116.9759, 20.7573) -> (110.0525, 13.8339) projected
  arc A23 (107.6525, 13.508) -> (110.0525, 13.8339) centre (108.6383, 15.2481) ccw projected
  arc A24 (107.6525, 13.508) -> (92.3475, 13.508) centre (100, 0) ccw projected
  arc A25 (89.9475, 13.8339) -> (92.3475, 13.508) centre (91.3617, 15.2481) ccw projected
  line L4 (110.0525, -13.8339) -> (118.0628, -21.8442) projected
  arc A26 (117.8393, -24.8653) -> (118.0628, -21.8442) centre (116.6485, -23.2584) ccw projected
  arc A27 (83.3223, -28.406) -> (117.8393, -24.8653) centre (97.597, 2.4523) ccw projected
  arc A28 (81.0017, -24.7603) -> (83.3223, -28.406) centre (85.0017, -24.7756) ccw projected
  arc A29 (81.0017, -24.7603) -> (80.978, -23.7347) centre (62.0019, -24.6877) ccw projected
  arc A30 (81.5612, -22.2202) -> (80.978, -23.7347) centre (82.9754, -23.6344) ccw projected
  line L5 (81.5612, -22.2202) -> (89.9475, -13.8339) projected
  arc A31 (92.3475, -13.508) -> (89.9475, -13.8339) centre (91.3617, -15.2481) ccw projected
  arc A32 (92.3475, -13.508) -> (107.6525, -13.508) centre (100, 0) ccw projected
  arc A33 (110.0525, -13.8339) -> (107.6525, -13.508) centre (108.6383, -15.2481) ccw projected
  line L6 (86.8955, -11.2291) -> (81.9314, -16.1932) projected
  arc A34 (78.7538, -15.7227) -> (81.9314, -16.1932) centre (80.5172, -14.779) ccw projected
  arc A35 (78.7538, -15.7227) -> (77.0454, -13.0821) centre (62.0019, -24.6877) ccw projected
  arc A36 (74.4608, 15.8526) -> (77.0454, -13.0821) centre (98.4231, 3.4102) ccw projected
  arc A37 (74.4608, 15.8526) -> (75.3242, 18.3678) centre (66.4734, 20) ccw projected
  arc A38 (78.7052, 19.4193) -> (75.3242, 18.3678) centre (77.291, 18.0051) ccw projected
  line L7 (78.7052, 19.4193) -> (86.8955, 11.2291) projected
  arc A39 (87.1382, 8.6948) -> (86.8955, 11.2291) centre (85.4813, 9.8149) ccw projected
  arc A40 (87.1382, 8.6948) -> (87.1382, -8.6948) centre (100, 0) ccw projected
  arc A41 (86.8955, -11.2291) -> (87.1382, -8.6948) centre (85.4813, -9.8149) ccw projected
  arc A42 (74.7817, 32.9878) -> (74.5126, 35.8664) centre (73.271, 34.2984) ccw projected
  arc A43 (63.3889, 37.7183) -> (74.7817, 32.9878) centre (69.8718, 37.2473) ccw projected
  arc A44 (67.721, 40.1851) -> (63.3889, 37.7183) centre (66.381, 37.5009) ccw projected
  arc A45 (74.5126, 35.8664) -> (67.721, 40.1851) centre (50.3015, 5.2915) ccw projected
  circle A46 centre (123.045, 25) radius 3 projected
  circle A47 centre (65.359, 13) radius 3 projected
  circle A48 centre (58.3063, 43.4) radius 3 projected
  arc A49 (26.7096, 3.5028) -> (28.866, 26.2368) centre (-8.2942, 18.2924) ccw projected
  arc A50 (26.7096, 3.5028) -> (31.2271, -8.171) centre (35, 0) ccw projected
  arc A51 (31.2271, -8.171) -> (58.8706, -11.0424) centre (49.2531, 30.8683) ccw projected
  arc A52 (75.52, -28.3291) -> (58.8706, -11.0424) centre (62.0019, -24.6877) ccw projected
  arc A53 (75.52, -28.3291) -> (76.4189, -30.5623) centre (77.4512, -28.8493) ccw projected
  arc A54 (76.4189, -30.5623) -> (91.0837, -36) centre (98.098, 5.4101) ccw projected
  arc A55 (91.0837, -36) -> (100.004, 41.3779) centre (97.597, 2.4523) ccw projected
  arc A56 (100.004, 41.3779) -> (96.2775, 40.0369) centre (99.6954, 36.3875) ccw projected
  arc A57 (76.7854, 39.1678) -> (96.2775, 40.0369) centre (86.0239, 50.9851) ccw projected
  arc A58 (76.7854, 39.1678) -> (44.5539, 47.9057) centre (50.3015, 5.2915) ccw projected
  arc A59 (44.5539, 47.9057) -> (44, 47.83) centre (65.9403, -110.6586) ccw projected
  arc A60 (44, 47.83) -> (28.866, 26.2368) centre (46.4683, 30) ccw projected
  circle A61 centre (33, 18) radius 1.25 projected
  circle A62 centre (45.1, 8.5) radius 1.25 projected
  circle A63 centre (66.4734, 20) radius 4 projected
  circle A64 centre (53.0056, 45.2) radius 1.25 projected
  circle A65 centre (66.299, -4.4994) radius 1.5 projected
  circle A66 centre (100, 0) radius 8.525 projected
  circle A67 centre (46.4683, 30) radius 14 projected
  circle A68 centre (65.359, 13) radius 1.25 projected
  circle A69 centre (58.3063, 43.4) radius 1.5 projected
  circle A70 centre (123.045, 25) radius 1.25 projected
  point P0 (0, 0)
properties part number "足内フレーム" material "Aluminum 2014-T4"
